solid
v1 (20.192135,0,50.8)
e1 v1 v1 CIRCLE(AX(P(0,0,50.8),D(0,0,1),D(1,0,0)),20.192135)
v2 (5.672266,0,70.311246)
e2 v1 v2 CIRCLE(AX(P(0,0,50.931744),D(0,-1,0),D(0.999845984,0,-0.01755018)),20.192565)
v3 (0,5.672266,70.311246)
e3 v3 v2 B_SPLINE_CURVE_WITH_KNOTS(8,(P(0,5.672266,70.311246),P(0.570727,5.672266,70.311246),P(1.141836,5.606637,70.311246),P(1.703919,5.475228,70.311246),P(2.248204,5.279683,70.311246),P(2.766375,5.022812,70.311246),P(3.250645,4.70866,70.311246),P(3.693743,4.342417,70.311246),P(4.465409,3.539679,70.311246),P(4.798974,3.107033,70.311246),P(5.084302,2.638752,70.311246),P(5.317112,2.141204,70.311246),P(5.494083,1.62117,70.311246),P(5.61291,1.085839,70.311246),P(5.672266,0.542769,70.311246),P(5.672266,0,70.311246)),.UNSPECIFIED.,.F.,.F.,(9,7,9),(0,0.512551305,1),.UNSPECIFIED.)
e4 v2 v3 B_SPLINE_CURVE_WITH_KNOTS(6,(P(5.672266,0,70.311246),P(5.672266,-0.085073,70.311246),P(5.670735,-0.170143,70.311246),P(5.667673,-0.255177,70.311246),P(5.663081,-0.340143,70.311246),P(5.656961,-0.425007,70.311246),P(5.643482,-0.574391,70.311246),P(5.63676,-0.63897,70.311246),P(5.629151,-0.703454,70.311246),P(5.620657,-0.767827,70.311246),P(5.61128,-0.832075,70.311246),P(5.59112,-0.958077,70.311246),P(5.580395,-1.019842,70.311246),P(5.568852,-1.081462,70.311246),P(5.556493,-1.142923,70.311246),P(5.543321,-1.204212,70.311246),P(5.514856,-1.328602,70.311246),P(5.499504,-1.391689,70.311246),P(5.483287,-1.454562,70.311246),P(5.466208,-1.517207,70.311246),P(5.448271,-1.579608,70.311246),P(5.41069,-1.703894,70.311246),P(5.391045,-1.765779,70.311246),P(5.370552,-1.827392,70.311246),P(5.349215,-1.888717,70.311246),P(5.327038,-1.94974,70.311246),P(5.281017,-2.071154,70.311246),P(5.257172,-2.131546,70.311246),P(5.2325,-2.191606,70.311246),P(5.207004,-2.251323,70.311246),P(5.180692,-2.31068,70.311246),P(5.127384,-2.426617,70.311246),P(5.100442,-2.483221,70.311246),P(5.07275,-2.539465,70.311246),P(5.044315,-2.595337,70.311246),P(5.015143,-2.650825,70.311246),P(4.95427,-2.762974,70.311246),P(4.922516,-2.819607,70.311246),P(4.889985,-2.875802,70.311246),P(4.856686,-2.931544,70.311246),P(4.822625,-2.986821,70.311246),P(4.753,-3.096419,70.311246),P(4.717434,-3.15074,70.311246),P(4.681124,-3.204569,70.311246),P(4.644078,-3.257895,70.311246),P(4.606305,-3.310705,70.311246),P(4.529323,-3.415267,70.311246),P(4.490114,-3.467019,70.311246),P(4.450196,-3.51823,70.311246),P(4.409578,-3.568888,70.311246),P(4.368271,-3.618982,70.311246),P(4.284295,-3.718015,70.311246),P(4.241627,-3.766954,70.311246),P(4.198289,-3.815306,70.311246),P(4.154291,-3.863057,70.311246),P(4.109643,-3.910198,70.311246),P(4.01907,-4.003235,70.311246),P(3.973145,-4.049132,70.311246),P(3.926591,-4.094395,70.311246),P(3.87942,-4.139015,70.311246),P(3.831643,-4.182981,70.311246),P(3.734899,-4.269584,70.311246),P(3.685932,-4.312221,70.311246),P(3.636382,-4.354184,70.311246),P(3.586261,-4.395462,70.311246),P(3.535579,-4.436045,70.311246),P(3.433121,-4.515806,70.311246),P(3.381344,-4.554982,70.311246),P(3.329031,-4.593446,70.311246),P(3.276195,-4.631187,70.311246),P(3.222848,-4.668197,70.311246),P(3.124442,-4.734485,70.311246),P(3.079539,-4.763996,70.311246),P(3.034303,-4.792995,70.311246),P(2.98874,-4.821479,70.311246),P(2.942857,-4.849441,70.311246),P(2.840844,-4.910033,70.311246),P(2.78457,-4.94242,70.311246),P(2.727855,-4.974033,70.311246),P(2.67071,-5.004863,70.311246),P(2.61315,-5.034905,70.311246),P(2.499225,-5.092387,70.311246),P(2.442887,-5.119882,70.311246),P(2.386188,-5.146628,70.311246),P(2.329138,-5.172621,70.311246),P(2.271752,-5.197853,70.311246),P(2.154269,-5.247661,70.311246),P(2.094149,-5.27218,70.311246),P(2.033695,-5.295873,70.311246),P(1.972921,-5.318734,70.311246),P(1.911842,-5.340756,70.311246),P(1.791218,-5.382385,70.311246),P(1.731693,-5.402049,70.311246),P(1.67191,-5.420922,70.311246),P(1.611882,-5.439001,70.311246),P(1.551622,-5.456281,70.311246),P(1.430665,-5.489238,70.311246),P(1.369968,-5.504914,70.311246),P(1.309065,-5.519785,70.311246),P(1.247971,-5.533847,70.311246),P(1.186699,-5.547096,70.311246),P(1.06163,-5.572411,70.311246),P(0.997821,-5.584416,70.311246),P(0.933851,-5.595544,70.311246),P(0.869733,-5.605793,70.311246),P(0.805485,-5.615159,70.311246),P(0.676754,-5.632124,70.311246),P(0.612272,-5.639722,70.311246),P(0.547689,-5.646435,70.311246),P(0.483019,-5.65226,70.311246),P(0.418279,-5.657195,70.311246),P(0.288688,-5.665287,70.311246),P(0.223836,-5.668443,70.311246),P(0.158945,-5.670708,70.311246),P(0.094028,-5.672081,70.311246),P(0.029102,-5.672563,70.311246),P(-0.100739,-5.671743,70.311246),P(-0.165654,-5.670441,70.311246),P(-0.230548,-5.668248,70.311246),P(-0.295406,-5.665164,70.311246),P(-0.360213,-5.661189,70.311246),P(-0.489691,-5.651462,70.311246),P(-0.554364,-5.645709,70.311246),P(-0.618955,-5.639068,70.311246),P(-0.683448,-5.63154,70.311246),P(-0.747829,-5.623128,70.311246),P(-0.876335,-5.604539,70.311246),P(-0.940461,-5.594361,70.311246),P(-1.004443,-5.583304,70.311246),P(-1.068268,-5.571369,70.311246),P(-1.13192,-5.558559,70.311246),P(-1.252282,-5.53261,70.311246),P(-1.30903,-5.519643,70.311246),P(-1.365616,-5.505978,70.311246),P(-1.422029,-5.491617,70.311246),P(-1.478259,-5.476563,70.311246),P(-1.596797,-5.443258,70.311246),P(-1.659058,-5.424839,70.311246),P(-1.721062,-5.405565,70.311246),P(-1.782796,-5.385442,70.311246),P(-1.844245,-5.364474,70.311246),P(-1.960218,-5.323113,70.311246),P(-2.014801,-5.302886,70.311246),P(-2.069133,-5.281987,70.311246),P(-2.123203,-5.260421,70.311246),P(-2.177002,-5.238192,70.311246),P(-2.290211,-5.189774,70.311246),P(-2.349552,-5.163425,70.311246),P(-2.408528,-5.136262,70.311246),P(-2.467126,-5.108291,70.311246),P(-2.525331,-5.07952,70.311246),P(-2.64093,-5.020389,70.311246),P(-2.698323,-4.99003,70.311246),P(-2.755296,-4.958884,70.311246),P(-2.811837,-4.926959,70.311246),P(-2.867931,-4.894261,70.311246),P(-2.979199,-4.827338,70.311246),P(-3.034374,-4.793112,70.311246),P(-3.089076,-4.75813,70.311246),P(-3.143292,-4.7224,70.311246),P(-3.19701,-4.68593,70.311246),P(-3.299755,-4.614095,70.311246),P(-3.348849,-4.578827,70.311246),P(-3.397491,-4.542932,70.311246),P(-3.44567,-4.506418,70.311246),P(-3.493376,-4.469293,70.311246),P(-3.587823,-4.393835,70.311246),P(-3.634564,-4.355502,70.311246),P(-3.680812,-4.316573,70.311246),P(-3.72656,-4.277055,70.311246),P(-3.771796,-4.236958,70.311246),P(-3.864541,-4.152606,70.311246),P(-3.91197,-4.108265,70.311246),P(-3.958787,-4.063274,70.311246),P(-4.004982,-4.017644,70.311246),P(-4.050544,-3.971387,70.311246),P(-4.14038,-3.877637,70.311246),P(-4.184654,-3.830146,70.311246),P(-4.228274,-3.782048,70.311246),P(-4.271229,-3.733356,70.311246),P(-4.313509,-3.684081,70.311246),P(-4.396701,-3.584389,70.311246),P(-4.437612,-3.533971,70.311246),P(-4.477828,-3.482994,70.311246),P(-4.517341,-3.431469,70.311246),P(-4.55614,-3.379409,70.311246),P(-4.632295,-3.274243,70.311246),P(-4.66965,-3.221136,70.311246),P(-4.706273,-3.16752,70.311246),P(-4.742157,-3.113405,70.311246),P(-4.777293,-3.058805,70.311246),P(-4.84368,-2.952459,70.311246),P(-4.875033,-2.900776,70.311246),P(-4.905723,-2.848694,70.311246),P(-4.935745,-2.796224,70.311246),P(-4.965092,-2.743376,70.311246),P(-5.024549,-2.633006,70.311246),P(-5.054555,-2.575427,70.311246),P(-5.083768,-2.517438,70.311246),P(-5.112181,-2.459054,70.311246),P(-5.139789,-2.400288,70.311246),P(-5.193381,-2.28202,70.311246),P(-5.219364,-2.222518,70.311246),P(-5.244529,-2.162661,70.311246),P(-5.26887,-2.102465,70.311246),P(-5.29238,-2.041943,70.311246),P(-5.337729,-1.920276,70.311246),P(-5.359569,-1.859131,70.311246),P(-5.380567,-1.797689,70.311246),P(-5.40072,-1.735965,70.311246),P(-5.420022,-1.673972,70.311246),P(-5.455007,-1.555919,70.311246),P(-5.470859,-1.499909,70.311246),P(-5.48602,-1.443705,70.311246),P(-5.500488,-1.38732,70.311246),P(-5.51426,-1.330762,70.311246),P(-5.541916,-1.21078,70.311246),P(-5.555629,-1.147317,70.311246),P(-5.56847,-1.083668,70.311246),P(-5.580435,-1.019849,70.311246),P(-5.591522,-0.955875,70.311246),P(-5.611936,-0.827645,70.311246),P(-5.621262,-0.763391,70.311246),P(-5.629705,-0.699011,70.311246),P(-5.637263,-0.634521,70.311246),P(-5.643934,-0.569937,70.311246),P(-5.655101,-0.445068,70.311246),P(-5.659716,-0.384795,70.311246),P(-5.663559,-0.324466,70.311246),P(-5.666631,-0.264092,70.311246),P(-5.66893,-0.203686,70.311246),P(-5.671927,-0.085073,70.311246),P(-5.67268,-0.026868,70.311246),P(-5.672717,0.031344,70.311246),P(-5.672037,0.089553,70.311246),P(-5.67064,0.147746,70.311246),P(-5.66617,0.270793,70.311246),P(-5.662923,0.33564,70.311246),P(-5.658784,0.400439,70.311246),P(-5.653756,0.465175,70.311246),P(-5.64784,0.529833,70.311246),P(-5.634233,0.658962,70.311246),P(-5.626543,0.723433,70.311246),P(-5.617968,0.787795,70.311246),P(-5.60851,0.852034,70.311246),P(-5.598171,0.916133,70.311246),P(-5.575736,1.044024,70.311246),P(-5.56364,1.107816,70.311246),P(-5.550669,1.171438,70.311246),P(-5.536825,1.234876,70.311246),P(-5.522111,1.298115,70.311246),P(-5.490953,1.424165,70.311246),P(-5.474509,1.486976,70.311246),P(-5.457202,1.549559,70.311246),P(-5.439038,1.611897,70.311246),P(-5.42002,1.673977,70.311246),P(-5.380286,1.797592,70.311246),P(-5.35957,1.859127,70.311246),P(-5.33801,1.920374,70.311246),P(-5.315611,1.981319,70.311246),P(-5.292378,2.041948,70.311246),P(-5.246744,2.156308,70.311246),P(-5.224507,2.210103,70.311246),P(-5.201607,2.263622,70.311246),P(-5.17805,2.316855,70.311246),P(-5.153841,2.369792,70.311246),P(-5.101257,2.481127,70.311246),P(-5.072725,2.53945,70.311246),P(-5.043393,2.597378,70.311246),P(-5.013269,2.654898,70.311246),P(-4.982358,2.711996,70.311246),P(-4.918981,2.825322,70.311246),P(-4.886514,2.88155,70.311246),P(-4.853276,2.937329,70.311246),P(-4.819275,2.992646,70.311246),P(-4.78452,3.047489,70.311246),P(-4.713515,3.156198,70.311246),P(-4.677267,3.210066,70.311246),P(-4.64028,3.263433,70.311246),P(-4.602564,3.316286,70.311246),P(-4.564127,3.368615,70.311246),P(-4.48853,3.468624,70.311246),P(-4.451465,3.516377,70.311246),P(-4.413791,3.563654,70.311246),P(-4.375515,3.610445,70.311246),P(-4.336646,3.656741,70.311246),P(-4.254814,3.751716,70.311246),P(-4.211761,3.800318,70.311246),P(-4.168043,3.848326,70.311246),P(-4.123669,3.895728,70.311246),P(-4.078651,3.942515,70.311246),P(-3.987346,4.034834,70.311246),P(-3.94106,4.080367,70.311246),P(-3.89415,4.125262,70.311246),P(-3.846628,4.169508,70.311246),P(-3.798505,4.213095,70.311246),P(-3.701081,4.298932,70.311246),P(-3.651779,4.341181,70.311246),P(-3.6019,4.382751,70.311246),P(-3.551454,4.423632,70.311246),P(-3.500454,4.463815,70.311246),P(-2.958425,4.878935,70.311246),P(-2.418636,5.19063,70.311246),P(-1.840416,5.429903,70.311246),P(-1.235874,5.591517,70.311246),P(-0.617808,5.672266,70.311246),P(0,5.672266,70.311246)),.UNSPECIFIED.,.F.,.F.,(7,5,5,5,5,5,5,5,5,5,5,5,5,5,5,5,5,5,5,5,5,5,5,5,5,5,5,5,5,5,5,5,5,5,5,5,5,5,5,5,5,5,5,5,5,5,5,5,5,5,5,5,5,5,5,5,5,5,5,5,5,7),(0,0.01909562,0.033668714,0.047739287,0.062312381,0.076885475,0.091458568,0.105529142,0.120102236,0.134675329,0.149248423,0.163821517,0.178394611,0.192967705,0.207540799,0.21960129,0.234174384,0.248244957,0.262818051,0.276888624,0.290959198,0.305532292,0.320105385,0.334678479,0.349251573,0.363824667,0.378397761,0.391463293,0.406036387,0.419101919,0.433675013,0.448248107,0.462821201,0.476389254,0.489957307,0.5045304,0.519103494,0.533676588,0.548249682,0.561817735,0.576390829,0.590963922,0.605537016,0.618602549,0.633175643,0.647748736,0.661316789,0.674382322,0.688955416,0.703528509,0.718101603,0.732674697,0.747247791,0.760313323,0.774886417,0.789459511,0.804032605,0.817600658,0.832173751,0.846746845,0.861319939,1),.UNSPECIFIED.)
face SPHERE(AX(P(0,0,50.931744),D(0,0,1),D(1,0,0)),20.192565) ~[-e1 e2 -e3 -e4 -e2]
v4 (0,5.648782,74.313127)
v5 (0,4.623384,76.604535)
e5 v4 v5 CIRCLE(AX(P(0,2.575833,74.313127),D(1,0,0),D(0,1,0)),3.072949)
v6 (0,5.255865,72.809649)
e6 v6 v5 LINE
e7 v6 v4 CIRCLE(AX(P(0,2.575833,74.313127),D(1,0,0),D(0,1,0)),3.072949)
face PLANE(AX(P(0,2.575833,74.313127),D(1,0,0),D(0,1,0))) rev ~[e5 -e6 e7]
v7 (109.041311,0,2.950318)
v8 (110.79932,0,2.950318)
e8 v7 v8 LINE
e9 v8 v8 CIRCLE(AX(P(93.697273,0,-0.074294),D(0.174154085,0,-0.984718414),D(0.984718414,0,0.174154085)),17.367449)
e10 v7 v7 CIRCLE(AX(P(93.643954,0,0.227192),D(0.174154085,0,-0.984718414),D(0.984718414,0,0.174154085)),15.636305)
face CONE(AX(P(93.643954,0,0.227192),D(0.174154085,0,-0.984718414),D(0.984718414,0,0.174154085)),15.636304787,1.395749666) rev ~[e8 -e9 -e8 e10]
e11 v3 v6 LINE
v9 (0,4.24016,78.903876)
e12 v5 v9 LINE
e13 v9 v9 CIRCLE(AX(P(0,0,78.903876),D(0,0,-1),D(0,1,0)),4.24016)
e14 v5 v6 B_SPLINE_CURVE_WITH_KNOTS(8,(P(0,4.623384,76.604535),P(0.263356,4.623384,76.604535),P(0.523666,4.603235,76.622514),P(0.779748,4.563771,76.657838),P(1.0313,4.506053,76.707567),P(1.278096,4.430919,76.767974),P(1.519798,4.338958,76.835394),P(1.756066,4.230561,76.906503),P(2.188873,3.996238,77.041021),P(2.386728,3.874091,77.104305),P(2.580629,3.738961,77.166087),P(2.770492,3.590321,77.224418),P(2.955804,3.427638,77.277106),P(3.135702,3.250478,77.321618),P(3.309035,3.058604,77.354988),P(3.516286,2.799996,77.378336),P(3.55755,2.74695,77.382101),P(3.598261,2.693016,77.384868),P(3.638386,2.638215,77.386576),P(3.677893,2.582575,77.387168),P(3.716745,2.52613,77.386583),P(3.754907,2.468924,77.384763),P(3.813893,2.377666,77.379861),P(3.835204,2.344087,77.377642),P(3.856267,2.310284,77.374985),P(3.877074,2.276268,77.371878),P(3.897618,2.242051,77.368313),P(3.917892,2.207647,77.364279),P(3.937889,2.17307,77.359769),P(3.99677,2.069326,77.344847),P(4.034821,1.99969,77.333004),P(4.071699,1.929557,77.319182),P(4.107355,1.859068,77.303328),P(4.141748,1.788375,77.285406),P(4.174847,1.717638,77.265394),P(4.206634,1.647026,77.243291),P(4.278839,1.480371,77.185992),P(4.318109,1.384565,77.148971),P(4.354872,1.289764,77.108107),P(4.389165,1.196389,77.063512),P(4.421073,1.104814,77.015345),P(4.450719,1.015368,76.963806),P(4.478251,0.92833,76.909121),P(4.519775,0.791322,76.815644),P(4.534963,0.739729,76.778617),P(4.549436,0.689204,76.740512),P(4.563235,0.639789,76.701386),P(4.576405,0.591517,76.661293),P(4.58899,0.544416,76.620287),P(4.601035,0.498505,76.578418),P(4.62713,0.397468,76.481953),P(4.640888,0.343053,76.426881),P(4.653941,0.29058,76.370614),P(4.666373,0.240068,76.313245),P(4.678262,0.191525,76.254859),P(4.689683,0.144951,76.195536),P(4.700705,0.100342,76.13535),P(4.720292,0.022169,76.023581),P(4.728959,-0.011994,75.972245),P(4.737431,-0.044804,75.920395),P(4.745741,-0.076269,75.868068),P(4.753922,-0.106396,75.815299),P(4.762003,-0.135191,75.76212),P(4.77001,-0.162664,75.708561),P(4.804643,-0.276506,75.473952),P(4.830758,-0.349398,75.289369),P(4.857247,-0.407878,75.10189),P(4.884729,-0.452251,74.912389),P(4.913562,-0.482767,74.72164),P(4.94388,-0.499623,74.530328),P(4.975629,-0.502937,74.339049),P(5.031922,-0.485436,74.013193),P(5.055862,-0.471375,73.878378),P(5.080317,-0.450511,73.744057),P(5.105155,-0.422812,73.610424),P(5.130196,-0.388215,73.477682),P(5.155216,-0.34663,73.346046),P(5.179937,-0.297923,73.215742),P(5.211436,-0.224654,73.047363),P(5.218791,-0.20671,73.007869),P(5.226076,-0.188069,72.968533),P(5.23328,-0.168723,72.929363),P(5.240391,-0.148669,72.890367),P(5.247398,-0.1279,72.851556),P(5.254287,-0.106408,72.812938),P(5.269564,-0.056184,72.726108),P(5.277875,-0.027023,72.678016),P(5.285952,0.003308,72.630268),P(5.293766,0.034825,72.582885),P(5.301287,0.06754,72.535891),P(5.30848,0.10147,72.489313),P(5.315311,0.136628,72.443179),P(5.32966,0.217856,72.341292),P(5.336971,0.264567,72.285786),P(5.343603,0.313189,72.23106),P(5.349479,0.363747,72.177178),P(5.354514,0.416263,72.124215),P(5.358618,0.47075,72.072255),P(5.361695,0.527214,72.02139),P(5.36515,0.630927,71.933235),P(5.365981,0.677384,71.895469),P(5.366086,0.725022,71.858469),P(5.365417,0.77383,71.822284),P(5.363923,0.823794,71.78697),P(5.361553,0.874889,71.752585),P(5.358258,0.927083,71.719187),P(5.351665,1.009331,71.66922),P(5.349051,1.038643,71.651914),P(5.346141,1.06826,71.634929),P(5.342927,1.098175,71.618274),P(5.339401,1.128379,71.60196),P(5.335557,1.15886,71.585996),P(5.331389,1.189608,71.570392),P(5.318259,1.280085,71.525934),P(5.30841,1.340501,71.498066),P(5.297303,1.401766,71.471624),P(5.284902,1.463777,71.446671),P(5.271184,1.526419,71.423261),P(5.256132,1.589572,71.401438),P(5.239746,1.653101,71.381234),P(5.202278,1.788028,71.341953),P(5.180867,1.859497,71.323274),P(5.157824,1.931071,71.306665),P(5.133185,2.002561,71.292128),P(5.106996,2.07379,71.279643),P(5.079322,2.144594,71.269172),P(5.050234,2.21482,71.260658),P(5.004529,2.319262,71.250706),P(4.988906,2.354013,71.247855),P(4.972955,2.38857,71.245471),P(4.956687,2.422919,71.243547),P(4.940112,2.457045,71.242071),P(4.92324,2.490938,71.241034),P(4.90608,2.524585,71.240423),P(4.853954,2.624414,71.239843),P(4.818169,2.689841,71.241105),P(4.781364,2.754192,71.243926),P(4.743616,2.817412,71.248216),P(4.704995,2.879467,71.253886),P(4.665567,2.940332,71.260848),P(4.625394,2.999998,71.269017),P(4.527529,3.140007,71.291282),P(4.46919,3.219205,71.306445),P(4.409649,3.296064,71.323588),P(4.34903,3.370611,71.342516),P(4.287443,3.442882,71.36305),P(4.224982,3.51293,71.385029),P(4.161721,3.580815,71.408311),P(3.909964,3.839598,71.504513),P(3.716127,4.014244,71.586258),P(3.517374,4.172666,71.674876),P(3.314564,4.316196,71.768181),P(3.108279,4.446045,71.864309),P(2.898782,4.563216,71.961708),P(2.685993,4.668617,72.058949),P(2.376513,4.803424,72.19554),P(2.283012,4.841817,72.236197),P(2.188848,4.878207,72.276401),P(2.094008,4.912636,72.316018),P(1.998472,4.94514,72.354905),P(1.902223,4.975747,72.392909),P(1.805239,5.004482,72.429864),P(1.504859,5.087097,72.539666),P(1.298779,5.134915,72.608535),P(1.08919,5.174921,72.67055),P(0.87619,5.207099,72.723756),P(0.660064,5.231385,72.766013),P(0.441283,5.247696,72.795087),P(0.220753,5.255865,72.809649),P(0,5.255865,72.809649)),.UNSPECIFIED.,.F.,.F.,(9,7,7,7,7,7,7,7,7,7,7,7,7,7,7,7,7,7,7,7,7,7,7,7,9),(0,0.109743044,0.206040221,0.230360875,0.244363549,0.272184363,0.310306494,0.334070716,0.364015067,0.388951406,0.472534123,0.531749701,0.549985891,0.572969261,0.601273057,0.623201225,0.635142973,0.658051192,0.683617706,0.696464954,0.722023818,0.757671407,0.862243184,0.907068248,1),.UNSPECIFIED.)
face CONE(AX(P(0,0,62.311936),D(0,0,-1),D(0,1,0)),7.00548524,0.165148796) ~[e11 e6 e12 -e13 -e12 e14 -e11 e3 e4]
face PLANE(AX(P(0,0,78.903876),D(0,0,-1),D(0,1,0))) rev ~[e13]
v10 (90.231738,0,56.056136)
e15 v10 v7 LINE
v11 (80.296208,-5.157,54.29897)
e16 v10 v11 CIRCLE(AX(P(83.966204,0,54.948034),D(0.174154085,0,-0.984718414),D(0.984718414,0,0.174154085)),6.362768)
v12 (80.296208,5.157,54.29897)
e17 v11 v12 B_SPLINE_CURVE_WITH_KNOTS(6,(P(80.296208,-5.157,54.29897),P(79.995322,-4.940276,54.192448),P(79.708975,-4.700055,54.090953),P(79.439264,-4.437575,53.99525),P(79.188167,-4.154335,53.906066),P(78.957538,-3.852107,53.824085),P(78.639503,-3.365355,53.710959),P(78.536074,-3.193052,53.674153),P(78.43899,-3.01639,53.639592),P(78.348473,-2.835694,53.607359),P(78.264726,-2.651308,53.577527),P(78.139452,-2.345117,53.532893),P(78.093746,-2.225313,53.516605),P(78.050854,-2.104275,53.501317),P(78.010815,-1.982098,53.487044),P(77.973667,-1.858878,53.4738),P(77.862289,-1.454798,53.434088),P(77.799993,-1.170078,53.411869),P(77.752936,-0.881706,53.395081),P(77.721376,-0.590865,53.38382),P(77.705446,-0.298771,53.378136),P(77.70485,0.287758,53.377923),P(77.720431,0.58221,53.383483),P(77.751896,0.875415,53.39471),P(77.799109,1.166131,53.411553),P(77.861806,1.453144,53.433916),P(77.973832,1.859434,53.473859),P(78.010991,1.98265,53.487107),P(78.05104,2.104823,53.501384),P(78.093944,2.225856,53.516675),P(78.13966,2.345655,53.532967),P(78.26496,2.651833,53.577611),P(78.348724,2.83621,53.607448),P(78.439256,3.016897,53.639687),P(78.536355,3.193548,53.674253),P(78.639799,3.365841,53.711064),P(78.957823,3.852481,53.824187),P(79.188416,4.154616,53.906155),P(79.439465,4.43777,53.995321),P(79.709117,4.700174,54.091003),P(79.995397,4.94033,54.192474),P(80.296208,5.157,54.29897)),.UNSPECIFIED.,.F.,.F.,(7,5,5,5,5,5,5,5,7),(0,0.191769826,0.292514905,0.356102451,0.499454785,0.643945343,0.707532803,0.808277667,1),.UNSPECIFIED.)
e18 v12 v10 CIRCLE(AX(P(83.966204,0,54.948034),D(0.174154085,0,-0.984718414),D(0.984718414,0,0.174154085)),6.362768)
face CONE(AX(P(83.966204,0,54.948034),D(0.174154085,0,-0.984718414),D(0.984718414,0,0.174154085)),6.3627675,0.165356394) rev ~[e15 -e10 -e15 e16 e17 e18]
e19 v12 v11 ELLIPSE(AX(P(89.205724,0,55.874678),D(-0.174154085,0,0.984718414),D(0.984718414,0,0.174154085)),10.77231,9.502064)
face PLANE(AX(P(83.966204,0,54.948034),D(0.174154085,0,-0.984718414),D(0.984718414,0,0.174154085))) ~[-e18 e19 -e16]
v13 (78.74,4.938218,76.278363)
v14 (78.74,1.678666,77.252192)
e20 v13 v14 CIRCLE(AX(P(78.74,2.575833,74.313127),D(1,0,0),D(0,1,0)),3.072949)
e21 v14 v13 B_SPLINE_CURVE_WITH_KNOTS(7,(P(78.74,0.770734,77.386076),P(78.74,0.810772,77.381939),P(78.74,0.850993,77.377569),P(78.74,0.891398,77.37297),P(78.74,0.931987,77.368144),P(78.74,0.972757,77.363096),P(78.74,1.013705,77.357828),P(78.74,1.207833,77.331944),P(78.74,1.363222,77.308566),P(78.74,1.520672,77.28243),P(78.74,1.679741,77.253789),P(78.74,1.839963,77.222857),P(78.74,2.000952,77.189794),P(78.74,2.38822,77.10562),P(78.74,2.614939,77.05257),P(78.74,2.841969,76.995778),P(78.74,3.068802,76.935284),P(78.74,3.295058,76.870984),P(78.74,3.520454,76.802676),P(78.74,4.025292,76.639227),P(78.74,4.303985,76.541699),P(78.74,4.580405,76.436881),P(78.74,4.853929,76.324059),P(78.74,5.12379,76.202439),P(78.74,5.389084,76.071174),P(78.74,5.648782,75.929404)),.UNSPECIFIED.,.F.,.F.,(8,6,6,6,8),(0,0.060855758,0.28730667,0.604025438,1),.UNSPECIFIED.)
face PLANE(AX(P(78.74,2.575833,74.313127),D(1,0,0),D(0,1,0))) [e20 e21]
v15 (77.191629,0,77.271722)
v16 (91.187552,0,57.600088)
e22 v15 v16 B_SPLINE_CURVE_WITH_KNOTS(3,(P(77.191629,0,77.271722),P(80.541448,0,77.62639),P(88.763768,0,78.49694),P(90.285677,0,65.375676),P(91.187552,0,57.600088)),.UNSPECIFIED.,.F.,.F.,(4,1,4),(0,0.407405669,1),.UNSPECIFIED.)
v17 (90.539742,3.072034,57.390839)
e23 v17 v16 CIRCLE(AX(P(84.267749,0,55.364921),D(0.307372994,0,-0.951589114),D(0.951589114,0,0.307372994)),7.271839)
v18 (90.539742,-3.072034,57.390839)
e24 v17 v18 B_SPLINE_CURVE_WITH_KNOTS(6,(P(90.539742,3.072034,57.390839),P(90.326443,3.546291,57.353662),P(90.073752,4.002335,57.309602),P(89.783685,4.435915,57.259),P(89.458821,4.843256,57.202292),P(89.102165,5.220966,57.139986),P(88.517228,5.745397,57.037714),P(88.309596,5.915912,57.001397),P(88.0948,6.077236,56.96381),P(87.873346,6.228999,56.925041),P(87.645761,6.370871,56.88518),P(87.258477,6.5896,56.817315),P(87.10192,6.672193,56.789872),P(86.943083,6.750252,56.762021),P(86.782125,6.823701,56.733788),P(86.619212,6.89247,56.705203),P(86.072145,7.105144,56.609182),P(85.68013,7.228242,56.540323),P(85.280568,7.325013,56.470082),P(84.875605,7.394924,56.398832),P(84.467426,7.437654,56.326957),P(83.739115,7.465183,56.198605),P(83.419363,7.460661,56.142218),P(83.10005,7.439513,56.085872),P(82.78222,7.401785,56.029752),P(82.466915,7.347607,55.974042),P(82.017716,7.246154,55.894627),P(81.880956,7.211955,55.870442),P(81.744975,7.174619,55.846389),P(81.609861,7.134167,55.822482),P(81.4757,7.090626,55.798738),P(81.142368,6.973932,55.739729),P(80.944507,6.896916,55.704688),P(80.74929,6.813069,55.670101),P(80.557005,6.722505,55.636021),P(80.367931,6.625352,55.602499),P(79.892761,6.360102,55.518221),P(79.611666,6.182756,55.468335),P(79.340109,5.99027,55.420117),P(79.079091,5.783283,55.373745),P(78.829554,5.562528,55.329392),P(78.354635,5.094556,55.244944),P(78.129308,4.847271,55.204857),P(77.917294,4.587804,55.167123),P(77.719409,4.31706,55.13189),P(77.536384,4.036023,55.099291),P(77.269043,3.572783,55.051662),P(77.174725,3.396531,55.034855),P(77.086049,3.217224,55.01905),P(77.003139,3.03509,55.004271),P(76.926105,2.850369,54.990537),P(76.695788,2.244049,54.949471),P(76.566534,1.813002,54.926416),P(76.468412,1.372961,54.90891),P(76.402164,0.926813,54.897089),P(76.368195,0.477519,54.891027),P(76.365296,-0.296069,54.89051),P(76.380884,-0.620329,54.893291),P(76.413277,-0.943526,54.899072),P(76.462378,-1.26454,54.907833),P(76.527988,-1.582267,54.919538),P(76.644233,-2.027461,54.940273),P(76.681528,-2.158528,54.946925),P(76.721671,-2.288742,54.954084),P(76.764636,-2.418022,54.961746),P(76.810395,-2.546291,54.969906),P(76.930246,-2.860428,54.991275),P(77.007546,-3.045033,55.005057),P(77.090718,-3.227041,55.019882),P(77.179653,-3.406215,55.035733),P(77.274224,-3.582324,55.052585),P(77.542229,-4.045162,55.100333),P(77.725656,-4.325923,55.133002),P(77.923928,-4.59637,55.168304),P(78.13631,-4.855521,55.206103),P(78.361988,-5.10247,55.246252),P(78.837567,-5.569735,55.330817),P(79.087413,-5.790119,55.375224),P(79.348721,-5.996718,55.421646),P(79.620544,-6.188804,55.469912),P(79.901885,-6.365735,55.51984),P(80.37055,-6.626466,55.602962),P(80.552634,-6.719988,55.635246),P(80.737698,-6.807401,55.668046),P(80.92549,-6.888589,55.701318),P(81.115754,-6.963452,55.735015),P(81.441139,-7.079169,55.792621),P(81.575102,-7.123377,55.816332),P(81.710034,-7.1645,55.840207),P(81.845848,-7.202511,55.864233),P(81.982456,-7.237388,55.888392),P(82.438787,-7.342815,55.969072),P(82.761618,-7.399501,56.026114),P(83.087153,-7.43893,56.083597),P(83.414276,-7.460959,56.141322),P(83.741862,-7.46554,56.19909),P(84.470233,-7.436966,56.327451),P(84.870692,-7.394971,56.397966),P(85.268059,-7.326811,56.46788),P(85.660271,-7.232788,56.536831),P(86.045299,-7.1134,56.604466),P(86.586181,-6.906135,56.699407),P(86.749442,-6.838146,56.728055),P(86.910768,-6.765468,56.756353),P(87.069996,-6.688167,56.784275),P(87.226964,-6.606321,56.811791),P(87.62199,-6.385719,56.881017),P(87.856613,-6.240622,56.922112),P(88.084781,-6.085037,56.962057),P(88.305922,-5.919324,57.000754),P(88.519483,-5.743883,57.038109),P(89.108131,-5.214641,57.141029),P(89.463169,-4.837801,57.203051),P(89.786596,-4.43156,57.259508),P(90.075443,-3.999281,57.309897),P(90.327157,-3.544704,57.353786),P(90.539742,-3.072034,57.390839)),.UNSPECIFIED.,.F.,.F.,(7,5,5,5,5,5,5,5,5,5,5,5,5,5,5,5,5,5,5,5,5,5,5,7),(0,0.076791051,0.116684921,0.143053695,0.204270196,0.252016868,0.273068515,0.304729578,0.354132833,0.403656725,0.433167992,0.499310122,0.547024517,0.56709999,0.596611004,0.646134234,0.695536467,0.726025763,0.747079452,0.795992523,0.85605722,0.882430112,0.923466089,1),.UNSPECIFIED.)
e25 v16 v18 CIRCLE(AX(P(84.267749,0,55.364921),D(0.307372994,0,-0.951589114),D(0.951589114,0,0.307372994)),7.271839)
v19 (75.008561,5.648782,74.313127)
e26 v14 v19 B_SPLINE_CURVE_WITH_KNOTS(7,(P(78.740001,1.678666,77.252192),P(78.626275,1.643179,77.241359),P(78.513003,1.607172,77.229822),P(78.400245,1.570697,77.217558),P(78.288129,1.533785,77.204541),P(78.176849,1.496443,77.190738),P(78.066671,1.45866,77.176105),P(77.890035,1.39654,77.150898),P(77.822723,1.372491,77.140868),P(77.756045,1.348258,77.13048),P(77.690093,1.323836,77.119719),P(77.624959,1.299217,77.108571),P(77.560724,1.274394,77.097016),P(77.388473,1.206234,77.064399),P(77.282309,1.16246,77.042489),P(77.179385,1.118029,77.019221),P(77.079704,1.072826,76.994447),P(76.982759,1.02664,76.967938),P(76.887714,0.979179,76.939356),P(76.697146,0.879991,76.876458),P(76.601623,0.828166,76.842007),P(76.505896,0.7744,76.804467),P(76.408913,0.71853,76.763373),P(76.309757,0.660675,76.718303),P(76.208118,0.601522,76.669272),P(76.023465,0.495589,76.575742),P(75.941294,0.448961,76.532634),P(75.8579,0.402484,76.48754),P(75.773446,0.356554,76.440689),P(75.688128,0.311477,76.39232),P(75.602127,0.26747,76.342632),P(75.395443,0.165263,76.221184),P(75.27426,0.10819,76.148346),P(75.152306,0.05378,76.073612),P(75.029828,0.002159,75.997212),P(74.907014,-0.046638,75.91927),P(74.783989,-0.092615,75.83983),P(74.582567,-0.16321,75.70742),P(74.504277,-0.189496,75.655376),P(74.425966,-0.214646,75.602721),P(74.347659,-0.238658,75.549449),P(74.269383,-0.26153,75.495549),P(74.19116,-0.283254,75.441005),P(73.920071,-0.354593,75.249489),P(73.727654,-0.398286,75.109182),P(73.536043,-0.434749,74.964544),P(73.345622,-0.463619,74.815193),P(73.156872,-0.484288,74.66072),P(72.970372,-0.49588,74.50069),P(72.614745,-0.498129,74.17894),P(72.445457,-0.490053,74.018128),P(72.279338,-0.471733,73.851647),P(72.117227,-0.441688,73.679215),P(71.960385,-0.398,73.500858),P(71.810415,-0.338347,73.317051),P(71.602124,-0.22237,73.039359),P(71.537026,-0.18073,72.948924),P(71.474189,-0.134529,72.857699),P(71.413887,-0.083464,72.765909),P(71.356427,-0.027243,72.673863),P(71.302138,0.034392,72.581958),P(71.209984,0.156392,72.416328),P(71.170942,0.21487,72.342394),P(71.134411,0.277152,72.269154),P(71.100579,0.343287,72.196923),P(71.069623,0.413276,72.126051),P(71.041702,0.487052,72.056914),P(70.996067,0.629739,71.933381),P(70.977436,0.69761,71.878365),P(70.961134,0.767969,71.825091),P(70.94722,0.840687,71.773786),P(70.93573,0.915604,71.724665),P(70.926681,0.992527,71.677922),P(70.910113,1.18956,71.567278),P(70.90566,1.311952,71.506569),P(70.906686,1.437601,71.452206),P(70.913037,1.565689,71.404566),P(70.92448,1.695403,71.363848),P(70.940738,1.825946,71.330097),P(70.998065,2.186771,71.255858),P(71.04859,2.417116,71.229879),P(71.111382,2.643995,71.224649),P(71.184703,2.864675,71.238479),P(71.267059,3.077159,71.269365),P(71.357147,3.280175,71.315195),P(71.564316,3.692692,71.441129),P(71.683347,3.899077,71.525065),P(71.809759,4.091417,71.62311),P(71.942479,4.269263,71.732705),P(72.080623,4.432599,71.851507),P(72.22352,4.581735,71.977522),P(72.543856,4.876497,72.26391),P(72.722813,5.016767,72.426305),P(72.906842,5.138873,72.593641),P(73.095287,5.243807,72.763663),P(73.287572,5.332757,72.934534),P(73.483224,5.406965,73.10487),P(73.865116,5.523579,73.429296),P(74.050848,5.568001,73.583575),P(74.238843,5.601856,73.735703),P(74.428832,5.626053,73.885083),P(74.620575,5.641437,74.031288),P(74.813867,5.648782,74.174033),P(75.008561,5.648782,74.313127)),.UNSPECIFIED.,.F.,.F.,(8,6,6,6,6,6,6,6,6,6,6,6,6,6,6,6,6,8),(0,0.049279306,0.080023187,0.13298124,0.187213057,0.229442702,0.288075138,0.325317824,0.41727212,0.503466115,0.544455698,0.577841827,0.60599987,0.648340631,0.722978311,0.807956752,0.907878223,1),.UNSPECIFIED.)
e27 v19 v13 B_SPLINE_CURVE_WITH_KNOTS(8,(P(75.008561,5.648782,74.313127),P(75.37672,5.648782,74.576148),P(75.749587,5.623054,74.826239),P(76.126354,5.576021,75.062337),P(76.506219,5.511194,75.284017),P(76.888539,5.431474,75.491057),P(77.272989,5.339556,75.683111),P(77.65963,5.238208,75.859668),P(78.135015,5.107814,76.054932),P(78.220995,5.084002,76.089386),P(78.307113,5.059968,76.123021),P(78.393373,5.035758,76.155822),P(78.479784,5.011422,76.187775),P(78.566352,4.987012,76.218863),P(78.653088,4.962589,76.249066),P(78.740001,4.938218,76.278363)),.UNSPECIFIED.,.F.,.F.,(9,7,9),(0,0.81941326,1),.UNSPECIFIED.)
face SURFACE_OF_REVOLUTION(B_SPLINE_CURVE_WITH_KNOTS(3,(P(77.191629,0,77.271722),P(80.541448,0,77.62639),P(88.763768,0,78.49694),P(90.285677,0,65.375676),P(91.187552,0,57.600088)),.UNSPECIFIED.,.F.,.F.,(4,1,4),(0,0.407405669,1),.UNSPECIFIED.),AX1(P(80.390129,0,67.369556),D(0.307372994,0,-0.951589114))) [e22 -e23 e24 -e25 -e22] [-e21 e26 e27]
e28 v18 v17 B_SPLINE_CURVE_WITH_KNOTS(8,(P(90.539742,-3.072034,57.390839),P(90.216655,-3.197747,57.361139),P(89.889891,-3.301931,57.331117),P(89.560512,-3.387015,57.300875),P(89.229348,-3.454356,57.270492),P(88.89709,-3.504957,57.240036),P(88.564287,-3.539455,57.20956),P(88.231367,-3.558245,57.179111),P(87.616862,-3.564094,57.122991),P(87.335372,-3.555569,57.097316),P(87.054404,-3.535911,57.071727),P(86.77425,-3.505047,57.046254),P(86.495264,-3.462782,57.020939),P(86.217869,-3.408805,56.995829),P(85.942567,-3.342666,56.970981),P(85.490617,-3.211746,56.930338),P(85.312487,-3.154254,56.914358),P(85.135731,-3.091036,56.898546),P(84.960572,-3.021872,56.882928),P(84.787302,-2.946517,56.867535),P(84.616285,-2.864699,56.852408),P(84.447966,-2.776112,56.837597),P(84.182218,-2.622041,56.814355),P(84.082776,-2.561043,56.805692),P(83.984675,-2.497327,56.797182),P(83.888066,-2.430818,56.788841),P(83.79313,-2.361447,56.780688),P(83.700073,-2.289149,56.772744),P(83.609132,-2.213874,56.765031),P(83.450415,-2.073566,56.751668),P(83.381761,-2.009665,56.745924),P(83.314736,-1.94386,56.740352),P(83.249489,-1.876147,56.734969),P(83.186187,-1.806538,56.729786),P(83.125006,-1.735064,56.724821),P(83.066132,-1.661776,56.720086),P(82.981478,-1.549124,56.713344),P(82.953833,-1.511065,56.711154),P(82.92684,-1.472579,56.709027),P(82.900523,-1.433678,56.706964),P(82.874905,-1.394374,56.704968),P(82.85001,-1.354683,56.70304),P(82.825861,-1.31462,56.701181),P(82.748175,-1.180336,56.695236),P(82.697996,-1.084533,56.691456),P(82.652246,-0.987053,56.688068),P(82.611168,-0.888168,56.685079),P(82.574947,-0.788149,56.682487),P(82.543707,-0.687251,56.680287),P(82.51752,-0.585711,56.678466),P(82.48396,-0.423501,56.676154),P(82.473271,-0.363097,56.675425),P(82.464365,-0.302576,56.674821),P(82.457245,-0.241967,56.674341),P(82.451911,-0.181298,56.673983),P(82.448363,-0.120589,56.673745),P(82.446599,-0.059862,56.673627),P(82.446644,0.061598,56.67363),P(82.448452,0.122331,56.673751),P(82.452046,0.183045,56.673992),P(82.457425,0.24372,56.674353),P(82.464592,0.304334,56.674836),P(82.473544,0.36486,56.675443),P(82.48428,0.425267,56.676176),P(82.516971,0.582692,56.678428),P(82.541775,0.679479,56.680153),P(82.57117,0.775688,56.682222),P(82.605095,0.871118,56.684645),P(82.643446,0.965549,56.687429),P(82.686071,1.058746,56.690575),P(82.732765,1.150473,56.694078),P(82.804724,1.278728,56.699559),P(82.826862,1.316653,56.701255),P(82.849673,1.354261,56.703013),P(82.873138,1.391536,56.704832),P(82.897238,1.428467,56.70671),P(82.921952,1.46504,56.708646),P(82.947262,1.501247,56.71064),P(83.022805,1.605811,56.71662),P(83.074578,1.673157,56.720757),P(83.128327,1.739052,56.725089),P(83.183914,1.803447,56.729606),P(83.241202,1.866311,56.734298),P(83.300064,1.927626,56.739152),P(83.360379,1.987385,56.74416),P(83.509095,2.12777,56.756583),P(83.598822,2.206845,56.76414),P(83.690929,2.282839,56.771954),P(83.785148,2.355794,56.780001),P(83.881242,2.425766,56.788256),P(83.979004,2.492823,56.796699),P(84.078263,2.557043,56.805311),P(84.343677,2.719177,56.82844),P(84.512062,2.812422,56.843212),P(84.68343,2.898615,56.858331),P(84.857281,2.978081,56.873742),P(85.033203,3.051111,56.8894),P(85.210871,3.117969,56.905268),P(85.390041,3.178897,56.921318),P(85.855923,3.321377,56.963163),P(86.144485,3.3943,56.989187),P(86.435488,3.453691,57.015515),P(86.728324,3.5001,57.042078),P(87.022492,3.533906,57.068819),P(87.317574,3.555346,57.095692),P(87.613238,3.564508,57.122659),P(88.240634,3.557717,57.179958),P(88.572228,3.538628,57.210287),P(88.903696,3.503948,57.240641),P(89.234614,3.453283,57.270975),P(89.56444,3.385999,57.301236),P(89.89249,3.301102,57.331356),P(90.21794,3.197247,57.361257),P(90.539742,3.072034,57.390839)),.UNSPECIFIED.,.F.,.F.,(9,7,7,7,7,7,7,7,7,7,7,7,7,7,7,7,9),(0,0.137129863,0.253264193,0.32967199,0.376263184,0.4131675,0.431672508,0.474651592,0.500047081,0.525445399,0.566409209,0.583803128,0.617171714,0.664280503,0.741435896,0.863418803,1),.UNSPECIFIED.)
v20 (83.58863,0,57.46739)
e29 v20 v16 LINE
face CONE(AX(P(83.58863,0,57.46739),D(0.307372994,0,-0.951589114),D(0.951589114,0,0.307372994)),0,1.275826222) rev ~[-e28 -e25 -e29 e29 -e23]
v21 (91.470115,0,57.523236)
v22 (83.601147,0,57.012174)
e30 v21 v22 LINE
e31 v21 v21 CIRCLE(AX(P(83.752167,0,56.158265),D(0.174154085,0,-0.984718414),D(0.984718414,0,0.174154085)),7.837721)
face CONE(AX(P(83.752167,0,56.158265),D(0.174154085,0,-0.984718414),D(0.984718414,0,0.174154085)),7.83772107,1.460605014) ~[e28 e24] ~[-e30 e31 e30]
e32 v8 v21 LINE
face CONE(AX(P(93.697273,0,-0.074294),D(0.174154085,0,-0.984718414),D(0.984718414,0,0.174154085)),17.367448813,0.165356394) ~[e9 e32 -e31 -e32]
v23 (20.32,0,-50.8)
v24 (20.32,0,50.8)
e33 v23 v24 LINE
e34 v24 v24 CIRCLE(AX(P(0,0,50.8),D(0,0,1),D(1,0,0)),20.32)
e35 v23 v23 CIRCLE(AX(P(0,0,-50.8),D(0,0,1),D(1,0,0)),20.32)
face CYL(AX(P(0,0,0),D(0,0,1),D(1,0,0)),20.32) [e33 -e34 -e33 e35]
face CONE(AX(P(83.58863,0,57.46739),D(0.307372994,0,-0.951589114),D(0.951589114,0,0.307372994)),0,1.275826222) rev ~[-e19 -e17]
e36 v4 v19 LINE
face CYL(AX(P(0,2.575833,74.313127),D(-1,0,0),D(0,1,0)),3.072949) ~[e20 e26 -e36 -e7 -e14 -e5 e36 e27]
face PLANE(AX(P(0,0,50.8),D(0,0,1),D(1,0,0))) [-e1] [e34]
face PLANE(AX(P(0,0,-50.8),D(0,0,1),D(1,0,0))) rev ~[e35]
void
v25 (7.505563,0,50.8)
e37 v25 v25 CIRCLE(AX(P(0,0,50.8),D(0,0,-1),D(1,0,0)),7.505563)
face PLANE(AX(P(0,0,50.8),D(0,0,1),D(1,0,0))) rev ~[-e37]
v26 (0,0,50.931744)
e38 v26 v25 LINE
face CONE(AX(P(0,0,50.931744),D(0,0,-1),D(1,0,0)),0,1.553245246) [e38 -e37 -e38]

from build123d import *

# Parameters (mm, degrees)
F0_R     = 20.32
F1_DEPTH = 50.8
F7_R     = 3.0729490934
F8_DEPTH = 78.74


with BuildPart() as f1:
    # F0 (on Top) → F1 (new body, symmetric)
    with BuildSketch(Plane.XY):
        Circle(F0_R)
    extrude(amount=F1_DEPTH, both=True)

    # F2 (on Front) → F3 (revolve)
    with BuildSketch(Plane.XZ):
        with BuildLine():
            Line((0, 50.9317442775), (20.189454779, 50.5773611367))
            ThreePointArc((20.189454779, 50.5773611367), (14.4030478755, 65.0841957818), (0, 71.1243090399))
            Line((0, 71.1243090399), (0, 50.9317442775))
        make_face()
    revolve(axis=Axis((0, 0, 61.0280266587), (0, 0, -1)))

    # F5 (on Right) → F6 (revolve)
    with BuildSketch(Plane.YZ):
        Polygon((0, 62.3119361699), (1.6591945896, 62.3119361699), (7.0054852404, 62.3119361699), (4.2401598766, 78.903876245), (0, 78.903876245), align=None)
    revolve(axis=Axis((0, 0, 70.6079062074), (0, 0, -1)))

    # F7 (on Right) → F8 (join)
    with BuildSketch(Plane.YZ):
        with Locations((2.5758331176, 74.3131265044)):
            Circle(F7_R)
    extrude(amount=F8_DEPTH)

    # F9 (on Front) → F10 (revolve)
    with BuildSketch(Plane.XZ):
        with BuildLine():
            add(Edge.make_bspline(
                [(77.1916285157, 77.2717222571), (80.5414482084, 77.6263895759), (88.7637679854, 78.496940345), (90.2856769773, 65.3756755472), (91.1875516176, 57.6000884175)],
                knots=[0, 0, 0, 0, 0.4074056694, 1, 1, 1, 1], degree=3))
            Line((77.1916285157, 77.2717222571), (79.1982337832, 74.6180936694))
            add(Edge.make_bspline(
                [(79.1982337832, 74.6180936694), (80.9350673917, 74.6645930701), (85.9177561117, 74.7979921694), (84.5073837742, 64.3036691827), (83.588629961, 57.4673898518)],
                knots=[0, 0, 0, 0, 0.3485735726, 1, 1, 1, 1], degree=3))
            Line((83.588629961, 57.4673898518), (91.1875516176, 57.6000884175))
        make_face()
        with BuildLine():
            Line((79.1982337832, 74.6180936694), (77.1916285157, 77.2717222571))
            Line((77.1916285157, 77.2717222571), (83.588629961, 57.4673898518))
            add(Edge.make_bspline(
                [(79.1982337832, 74.6180936694), (80.9350673917, 74.6645930701), (85.9177561117, 74.7979921694), (84.5073837742, 64.3036691827), (83.588629961, 57.4673898518)],
                knots=[0, 0, 0, 0, 0.3485735726, 1, 1, 1, 1], degree=3))
        make_face()
    revolve(axis=Axis((80.3901292384, 0, 67.3695560545), (0.3073729937, 0, -0.9515891144)))

    # F11 (on Front) → F12 (revolve)
    with BuildSketch(Plane.XZ):
        Polygon((91.4701148868, 57.5232356787), (83.6011469364, 57.0121742785), (83.9662040441, 54.9480340358), (90.231738364, 56.0561359902), (109.0413108468, 2.9503183905), (110.7993200421, 2.9503183905), align=None)
    revolve(axis=Axis((88.3817486465, 0, 29.9812463345), (0.1741540854, 0, -0.9847184138)))


solid = f1.part
